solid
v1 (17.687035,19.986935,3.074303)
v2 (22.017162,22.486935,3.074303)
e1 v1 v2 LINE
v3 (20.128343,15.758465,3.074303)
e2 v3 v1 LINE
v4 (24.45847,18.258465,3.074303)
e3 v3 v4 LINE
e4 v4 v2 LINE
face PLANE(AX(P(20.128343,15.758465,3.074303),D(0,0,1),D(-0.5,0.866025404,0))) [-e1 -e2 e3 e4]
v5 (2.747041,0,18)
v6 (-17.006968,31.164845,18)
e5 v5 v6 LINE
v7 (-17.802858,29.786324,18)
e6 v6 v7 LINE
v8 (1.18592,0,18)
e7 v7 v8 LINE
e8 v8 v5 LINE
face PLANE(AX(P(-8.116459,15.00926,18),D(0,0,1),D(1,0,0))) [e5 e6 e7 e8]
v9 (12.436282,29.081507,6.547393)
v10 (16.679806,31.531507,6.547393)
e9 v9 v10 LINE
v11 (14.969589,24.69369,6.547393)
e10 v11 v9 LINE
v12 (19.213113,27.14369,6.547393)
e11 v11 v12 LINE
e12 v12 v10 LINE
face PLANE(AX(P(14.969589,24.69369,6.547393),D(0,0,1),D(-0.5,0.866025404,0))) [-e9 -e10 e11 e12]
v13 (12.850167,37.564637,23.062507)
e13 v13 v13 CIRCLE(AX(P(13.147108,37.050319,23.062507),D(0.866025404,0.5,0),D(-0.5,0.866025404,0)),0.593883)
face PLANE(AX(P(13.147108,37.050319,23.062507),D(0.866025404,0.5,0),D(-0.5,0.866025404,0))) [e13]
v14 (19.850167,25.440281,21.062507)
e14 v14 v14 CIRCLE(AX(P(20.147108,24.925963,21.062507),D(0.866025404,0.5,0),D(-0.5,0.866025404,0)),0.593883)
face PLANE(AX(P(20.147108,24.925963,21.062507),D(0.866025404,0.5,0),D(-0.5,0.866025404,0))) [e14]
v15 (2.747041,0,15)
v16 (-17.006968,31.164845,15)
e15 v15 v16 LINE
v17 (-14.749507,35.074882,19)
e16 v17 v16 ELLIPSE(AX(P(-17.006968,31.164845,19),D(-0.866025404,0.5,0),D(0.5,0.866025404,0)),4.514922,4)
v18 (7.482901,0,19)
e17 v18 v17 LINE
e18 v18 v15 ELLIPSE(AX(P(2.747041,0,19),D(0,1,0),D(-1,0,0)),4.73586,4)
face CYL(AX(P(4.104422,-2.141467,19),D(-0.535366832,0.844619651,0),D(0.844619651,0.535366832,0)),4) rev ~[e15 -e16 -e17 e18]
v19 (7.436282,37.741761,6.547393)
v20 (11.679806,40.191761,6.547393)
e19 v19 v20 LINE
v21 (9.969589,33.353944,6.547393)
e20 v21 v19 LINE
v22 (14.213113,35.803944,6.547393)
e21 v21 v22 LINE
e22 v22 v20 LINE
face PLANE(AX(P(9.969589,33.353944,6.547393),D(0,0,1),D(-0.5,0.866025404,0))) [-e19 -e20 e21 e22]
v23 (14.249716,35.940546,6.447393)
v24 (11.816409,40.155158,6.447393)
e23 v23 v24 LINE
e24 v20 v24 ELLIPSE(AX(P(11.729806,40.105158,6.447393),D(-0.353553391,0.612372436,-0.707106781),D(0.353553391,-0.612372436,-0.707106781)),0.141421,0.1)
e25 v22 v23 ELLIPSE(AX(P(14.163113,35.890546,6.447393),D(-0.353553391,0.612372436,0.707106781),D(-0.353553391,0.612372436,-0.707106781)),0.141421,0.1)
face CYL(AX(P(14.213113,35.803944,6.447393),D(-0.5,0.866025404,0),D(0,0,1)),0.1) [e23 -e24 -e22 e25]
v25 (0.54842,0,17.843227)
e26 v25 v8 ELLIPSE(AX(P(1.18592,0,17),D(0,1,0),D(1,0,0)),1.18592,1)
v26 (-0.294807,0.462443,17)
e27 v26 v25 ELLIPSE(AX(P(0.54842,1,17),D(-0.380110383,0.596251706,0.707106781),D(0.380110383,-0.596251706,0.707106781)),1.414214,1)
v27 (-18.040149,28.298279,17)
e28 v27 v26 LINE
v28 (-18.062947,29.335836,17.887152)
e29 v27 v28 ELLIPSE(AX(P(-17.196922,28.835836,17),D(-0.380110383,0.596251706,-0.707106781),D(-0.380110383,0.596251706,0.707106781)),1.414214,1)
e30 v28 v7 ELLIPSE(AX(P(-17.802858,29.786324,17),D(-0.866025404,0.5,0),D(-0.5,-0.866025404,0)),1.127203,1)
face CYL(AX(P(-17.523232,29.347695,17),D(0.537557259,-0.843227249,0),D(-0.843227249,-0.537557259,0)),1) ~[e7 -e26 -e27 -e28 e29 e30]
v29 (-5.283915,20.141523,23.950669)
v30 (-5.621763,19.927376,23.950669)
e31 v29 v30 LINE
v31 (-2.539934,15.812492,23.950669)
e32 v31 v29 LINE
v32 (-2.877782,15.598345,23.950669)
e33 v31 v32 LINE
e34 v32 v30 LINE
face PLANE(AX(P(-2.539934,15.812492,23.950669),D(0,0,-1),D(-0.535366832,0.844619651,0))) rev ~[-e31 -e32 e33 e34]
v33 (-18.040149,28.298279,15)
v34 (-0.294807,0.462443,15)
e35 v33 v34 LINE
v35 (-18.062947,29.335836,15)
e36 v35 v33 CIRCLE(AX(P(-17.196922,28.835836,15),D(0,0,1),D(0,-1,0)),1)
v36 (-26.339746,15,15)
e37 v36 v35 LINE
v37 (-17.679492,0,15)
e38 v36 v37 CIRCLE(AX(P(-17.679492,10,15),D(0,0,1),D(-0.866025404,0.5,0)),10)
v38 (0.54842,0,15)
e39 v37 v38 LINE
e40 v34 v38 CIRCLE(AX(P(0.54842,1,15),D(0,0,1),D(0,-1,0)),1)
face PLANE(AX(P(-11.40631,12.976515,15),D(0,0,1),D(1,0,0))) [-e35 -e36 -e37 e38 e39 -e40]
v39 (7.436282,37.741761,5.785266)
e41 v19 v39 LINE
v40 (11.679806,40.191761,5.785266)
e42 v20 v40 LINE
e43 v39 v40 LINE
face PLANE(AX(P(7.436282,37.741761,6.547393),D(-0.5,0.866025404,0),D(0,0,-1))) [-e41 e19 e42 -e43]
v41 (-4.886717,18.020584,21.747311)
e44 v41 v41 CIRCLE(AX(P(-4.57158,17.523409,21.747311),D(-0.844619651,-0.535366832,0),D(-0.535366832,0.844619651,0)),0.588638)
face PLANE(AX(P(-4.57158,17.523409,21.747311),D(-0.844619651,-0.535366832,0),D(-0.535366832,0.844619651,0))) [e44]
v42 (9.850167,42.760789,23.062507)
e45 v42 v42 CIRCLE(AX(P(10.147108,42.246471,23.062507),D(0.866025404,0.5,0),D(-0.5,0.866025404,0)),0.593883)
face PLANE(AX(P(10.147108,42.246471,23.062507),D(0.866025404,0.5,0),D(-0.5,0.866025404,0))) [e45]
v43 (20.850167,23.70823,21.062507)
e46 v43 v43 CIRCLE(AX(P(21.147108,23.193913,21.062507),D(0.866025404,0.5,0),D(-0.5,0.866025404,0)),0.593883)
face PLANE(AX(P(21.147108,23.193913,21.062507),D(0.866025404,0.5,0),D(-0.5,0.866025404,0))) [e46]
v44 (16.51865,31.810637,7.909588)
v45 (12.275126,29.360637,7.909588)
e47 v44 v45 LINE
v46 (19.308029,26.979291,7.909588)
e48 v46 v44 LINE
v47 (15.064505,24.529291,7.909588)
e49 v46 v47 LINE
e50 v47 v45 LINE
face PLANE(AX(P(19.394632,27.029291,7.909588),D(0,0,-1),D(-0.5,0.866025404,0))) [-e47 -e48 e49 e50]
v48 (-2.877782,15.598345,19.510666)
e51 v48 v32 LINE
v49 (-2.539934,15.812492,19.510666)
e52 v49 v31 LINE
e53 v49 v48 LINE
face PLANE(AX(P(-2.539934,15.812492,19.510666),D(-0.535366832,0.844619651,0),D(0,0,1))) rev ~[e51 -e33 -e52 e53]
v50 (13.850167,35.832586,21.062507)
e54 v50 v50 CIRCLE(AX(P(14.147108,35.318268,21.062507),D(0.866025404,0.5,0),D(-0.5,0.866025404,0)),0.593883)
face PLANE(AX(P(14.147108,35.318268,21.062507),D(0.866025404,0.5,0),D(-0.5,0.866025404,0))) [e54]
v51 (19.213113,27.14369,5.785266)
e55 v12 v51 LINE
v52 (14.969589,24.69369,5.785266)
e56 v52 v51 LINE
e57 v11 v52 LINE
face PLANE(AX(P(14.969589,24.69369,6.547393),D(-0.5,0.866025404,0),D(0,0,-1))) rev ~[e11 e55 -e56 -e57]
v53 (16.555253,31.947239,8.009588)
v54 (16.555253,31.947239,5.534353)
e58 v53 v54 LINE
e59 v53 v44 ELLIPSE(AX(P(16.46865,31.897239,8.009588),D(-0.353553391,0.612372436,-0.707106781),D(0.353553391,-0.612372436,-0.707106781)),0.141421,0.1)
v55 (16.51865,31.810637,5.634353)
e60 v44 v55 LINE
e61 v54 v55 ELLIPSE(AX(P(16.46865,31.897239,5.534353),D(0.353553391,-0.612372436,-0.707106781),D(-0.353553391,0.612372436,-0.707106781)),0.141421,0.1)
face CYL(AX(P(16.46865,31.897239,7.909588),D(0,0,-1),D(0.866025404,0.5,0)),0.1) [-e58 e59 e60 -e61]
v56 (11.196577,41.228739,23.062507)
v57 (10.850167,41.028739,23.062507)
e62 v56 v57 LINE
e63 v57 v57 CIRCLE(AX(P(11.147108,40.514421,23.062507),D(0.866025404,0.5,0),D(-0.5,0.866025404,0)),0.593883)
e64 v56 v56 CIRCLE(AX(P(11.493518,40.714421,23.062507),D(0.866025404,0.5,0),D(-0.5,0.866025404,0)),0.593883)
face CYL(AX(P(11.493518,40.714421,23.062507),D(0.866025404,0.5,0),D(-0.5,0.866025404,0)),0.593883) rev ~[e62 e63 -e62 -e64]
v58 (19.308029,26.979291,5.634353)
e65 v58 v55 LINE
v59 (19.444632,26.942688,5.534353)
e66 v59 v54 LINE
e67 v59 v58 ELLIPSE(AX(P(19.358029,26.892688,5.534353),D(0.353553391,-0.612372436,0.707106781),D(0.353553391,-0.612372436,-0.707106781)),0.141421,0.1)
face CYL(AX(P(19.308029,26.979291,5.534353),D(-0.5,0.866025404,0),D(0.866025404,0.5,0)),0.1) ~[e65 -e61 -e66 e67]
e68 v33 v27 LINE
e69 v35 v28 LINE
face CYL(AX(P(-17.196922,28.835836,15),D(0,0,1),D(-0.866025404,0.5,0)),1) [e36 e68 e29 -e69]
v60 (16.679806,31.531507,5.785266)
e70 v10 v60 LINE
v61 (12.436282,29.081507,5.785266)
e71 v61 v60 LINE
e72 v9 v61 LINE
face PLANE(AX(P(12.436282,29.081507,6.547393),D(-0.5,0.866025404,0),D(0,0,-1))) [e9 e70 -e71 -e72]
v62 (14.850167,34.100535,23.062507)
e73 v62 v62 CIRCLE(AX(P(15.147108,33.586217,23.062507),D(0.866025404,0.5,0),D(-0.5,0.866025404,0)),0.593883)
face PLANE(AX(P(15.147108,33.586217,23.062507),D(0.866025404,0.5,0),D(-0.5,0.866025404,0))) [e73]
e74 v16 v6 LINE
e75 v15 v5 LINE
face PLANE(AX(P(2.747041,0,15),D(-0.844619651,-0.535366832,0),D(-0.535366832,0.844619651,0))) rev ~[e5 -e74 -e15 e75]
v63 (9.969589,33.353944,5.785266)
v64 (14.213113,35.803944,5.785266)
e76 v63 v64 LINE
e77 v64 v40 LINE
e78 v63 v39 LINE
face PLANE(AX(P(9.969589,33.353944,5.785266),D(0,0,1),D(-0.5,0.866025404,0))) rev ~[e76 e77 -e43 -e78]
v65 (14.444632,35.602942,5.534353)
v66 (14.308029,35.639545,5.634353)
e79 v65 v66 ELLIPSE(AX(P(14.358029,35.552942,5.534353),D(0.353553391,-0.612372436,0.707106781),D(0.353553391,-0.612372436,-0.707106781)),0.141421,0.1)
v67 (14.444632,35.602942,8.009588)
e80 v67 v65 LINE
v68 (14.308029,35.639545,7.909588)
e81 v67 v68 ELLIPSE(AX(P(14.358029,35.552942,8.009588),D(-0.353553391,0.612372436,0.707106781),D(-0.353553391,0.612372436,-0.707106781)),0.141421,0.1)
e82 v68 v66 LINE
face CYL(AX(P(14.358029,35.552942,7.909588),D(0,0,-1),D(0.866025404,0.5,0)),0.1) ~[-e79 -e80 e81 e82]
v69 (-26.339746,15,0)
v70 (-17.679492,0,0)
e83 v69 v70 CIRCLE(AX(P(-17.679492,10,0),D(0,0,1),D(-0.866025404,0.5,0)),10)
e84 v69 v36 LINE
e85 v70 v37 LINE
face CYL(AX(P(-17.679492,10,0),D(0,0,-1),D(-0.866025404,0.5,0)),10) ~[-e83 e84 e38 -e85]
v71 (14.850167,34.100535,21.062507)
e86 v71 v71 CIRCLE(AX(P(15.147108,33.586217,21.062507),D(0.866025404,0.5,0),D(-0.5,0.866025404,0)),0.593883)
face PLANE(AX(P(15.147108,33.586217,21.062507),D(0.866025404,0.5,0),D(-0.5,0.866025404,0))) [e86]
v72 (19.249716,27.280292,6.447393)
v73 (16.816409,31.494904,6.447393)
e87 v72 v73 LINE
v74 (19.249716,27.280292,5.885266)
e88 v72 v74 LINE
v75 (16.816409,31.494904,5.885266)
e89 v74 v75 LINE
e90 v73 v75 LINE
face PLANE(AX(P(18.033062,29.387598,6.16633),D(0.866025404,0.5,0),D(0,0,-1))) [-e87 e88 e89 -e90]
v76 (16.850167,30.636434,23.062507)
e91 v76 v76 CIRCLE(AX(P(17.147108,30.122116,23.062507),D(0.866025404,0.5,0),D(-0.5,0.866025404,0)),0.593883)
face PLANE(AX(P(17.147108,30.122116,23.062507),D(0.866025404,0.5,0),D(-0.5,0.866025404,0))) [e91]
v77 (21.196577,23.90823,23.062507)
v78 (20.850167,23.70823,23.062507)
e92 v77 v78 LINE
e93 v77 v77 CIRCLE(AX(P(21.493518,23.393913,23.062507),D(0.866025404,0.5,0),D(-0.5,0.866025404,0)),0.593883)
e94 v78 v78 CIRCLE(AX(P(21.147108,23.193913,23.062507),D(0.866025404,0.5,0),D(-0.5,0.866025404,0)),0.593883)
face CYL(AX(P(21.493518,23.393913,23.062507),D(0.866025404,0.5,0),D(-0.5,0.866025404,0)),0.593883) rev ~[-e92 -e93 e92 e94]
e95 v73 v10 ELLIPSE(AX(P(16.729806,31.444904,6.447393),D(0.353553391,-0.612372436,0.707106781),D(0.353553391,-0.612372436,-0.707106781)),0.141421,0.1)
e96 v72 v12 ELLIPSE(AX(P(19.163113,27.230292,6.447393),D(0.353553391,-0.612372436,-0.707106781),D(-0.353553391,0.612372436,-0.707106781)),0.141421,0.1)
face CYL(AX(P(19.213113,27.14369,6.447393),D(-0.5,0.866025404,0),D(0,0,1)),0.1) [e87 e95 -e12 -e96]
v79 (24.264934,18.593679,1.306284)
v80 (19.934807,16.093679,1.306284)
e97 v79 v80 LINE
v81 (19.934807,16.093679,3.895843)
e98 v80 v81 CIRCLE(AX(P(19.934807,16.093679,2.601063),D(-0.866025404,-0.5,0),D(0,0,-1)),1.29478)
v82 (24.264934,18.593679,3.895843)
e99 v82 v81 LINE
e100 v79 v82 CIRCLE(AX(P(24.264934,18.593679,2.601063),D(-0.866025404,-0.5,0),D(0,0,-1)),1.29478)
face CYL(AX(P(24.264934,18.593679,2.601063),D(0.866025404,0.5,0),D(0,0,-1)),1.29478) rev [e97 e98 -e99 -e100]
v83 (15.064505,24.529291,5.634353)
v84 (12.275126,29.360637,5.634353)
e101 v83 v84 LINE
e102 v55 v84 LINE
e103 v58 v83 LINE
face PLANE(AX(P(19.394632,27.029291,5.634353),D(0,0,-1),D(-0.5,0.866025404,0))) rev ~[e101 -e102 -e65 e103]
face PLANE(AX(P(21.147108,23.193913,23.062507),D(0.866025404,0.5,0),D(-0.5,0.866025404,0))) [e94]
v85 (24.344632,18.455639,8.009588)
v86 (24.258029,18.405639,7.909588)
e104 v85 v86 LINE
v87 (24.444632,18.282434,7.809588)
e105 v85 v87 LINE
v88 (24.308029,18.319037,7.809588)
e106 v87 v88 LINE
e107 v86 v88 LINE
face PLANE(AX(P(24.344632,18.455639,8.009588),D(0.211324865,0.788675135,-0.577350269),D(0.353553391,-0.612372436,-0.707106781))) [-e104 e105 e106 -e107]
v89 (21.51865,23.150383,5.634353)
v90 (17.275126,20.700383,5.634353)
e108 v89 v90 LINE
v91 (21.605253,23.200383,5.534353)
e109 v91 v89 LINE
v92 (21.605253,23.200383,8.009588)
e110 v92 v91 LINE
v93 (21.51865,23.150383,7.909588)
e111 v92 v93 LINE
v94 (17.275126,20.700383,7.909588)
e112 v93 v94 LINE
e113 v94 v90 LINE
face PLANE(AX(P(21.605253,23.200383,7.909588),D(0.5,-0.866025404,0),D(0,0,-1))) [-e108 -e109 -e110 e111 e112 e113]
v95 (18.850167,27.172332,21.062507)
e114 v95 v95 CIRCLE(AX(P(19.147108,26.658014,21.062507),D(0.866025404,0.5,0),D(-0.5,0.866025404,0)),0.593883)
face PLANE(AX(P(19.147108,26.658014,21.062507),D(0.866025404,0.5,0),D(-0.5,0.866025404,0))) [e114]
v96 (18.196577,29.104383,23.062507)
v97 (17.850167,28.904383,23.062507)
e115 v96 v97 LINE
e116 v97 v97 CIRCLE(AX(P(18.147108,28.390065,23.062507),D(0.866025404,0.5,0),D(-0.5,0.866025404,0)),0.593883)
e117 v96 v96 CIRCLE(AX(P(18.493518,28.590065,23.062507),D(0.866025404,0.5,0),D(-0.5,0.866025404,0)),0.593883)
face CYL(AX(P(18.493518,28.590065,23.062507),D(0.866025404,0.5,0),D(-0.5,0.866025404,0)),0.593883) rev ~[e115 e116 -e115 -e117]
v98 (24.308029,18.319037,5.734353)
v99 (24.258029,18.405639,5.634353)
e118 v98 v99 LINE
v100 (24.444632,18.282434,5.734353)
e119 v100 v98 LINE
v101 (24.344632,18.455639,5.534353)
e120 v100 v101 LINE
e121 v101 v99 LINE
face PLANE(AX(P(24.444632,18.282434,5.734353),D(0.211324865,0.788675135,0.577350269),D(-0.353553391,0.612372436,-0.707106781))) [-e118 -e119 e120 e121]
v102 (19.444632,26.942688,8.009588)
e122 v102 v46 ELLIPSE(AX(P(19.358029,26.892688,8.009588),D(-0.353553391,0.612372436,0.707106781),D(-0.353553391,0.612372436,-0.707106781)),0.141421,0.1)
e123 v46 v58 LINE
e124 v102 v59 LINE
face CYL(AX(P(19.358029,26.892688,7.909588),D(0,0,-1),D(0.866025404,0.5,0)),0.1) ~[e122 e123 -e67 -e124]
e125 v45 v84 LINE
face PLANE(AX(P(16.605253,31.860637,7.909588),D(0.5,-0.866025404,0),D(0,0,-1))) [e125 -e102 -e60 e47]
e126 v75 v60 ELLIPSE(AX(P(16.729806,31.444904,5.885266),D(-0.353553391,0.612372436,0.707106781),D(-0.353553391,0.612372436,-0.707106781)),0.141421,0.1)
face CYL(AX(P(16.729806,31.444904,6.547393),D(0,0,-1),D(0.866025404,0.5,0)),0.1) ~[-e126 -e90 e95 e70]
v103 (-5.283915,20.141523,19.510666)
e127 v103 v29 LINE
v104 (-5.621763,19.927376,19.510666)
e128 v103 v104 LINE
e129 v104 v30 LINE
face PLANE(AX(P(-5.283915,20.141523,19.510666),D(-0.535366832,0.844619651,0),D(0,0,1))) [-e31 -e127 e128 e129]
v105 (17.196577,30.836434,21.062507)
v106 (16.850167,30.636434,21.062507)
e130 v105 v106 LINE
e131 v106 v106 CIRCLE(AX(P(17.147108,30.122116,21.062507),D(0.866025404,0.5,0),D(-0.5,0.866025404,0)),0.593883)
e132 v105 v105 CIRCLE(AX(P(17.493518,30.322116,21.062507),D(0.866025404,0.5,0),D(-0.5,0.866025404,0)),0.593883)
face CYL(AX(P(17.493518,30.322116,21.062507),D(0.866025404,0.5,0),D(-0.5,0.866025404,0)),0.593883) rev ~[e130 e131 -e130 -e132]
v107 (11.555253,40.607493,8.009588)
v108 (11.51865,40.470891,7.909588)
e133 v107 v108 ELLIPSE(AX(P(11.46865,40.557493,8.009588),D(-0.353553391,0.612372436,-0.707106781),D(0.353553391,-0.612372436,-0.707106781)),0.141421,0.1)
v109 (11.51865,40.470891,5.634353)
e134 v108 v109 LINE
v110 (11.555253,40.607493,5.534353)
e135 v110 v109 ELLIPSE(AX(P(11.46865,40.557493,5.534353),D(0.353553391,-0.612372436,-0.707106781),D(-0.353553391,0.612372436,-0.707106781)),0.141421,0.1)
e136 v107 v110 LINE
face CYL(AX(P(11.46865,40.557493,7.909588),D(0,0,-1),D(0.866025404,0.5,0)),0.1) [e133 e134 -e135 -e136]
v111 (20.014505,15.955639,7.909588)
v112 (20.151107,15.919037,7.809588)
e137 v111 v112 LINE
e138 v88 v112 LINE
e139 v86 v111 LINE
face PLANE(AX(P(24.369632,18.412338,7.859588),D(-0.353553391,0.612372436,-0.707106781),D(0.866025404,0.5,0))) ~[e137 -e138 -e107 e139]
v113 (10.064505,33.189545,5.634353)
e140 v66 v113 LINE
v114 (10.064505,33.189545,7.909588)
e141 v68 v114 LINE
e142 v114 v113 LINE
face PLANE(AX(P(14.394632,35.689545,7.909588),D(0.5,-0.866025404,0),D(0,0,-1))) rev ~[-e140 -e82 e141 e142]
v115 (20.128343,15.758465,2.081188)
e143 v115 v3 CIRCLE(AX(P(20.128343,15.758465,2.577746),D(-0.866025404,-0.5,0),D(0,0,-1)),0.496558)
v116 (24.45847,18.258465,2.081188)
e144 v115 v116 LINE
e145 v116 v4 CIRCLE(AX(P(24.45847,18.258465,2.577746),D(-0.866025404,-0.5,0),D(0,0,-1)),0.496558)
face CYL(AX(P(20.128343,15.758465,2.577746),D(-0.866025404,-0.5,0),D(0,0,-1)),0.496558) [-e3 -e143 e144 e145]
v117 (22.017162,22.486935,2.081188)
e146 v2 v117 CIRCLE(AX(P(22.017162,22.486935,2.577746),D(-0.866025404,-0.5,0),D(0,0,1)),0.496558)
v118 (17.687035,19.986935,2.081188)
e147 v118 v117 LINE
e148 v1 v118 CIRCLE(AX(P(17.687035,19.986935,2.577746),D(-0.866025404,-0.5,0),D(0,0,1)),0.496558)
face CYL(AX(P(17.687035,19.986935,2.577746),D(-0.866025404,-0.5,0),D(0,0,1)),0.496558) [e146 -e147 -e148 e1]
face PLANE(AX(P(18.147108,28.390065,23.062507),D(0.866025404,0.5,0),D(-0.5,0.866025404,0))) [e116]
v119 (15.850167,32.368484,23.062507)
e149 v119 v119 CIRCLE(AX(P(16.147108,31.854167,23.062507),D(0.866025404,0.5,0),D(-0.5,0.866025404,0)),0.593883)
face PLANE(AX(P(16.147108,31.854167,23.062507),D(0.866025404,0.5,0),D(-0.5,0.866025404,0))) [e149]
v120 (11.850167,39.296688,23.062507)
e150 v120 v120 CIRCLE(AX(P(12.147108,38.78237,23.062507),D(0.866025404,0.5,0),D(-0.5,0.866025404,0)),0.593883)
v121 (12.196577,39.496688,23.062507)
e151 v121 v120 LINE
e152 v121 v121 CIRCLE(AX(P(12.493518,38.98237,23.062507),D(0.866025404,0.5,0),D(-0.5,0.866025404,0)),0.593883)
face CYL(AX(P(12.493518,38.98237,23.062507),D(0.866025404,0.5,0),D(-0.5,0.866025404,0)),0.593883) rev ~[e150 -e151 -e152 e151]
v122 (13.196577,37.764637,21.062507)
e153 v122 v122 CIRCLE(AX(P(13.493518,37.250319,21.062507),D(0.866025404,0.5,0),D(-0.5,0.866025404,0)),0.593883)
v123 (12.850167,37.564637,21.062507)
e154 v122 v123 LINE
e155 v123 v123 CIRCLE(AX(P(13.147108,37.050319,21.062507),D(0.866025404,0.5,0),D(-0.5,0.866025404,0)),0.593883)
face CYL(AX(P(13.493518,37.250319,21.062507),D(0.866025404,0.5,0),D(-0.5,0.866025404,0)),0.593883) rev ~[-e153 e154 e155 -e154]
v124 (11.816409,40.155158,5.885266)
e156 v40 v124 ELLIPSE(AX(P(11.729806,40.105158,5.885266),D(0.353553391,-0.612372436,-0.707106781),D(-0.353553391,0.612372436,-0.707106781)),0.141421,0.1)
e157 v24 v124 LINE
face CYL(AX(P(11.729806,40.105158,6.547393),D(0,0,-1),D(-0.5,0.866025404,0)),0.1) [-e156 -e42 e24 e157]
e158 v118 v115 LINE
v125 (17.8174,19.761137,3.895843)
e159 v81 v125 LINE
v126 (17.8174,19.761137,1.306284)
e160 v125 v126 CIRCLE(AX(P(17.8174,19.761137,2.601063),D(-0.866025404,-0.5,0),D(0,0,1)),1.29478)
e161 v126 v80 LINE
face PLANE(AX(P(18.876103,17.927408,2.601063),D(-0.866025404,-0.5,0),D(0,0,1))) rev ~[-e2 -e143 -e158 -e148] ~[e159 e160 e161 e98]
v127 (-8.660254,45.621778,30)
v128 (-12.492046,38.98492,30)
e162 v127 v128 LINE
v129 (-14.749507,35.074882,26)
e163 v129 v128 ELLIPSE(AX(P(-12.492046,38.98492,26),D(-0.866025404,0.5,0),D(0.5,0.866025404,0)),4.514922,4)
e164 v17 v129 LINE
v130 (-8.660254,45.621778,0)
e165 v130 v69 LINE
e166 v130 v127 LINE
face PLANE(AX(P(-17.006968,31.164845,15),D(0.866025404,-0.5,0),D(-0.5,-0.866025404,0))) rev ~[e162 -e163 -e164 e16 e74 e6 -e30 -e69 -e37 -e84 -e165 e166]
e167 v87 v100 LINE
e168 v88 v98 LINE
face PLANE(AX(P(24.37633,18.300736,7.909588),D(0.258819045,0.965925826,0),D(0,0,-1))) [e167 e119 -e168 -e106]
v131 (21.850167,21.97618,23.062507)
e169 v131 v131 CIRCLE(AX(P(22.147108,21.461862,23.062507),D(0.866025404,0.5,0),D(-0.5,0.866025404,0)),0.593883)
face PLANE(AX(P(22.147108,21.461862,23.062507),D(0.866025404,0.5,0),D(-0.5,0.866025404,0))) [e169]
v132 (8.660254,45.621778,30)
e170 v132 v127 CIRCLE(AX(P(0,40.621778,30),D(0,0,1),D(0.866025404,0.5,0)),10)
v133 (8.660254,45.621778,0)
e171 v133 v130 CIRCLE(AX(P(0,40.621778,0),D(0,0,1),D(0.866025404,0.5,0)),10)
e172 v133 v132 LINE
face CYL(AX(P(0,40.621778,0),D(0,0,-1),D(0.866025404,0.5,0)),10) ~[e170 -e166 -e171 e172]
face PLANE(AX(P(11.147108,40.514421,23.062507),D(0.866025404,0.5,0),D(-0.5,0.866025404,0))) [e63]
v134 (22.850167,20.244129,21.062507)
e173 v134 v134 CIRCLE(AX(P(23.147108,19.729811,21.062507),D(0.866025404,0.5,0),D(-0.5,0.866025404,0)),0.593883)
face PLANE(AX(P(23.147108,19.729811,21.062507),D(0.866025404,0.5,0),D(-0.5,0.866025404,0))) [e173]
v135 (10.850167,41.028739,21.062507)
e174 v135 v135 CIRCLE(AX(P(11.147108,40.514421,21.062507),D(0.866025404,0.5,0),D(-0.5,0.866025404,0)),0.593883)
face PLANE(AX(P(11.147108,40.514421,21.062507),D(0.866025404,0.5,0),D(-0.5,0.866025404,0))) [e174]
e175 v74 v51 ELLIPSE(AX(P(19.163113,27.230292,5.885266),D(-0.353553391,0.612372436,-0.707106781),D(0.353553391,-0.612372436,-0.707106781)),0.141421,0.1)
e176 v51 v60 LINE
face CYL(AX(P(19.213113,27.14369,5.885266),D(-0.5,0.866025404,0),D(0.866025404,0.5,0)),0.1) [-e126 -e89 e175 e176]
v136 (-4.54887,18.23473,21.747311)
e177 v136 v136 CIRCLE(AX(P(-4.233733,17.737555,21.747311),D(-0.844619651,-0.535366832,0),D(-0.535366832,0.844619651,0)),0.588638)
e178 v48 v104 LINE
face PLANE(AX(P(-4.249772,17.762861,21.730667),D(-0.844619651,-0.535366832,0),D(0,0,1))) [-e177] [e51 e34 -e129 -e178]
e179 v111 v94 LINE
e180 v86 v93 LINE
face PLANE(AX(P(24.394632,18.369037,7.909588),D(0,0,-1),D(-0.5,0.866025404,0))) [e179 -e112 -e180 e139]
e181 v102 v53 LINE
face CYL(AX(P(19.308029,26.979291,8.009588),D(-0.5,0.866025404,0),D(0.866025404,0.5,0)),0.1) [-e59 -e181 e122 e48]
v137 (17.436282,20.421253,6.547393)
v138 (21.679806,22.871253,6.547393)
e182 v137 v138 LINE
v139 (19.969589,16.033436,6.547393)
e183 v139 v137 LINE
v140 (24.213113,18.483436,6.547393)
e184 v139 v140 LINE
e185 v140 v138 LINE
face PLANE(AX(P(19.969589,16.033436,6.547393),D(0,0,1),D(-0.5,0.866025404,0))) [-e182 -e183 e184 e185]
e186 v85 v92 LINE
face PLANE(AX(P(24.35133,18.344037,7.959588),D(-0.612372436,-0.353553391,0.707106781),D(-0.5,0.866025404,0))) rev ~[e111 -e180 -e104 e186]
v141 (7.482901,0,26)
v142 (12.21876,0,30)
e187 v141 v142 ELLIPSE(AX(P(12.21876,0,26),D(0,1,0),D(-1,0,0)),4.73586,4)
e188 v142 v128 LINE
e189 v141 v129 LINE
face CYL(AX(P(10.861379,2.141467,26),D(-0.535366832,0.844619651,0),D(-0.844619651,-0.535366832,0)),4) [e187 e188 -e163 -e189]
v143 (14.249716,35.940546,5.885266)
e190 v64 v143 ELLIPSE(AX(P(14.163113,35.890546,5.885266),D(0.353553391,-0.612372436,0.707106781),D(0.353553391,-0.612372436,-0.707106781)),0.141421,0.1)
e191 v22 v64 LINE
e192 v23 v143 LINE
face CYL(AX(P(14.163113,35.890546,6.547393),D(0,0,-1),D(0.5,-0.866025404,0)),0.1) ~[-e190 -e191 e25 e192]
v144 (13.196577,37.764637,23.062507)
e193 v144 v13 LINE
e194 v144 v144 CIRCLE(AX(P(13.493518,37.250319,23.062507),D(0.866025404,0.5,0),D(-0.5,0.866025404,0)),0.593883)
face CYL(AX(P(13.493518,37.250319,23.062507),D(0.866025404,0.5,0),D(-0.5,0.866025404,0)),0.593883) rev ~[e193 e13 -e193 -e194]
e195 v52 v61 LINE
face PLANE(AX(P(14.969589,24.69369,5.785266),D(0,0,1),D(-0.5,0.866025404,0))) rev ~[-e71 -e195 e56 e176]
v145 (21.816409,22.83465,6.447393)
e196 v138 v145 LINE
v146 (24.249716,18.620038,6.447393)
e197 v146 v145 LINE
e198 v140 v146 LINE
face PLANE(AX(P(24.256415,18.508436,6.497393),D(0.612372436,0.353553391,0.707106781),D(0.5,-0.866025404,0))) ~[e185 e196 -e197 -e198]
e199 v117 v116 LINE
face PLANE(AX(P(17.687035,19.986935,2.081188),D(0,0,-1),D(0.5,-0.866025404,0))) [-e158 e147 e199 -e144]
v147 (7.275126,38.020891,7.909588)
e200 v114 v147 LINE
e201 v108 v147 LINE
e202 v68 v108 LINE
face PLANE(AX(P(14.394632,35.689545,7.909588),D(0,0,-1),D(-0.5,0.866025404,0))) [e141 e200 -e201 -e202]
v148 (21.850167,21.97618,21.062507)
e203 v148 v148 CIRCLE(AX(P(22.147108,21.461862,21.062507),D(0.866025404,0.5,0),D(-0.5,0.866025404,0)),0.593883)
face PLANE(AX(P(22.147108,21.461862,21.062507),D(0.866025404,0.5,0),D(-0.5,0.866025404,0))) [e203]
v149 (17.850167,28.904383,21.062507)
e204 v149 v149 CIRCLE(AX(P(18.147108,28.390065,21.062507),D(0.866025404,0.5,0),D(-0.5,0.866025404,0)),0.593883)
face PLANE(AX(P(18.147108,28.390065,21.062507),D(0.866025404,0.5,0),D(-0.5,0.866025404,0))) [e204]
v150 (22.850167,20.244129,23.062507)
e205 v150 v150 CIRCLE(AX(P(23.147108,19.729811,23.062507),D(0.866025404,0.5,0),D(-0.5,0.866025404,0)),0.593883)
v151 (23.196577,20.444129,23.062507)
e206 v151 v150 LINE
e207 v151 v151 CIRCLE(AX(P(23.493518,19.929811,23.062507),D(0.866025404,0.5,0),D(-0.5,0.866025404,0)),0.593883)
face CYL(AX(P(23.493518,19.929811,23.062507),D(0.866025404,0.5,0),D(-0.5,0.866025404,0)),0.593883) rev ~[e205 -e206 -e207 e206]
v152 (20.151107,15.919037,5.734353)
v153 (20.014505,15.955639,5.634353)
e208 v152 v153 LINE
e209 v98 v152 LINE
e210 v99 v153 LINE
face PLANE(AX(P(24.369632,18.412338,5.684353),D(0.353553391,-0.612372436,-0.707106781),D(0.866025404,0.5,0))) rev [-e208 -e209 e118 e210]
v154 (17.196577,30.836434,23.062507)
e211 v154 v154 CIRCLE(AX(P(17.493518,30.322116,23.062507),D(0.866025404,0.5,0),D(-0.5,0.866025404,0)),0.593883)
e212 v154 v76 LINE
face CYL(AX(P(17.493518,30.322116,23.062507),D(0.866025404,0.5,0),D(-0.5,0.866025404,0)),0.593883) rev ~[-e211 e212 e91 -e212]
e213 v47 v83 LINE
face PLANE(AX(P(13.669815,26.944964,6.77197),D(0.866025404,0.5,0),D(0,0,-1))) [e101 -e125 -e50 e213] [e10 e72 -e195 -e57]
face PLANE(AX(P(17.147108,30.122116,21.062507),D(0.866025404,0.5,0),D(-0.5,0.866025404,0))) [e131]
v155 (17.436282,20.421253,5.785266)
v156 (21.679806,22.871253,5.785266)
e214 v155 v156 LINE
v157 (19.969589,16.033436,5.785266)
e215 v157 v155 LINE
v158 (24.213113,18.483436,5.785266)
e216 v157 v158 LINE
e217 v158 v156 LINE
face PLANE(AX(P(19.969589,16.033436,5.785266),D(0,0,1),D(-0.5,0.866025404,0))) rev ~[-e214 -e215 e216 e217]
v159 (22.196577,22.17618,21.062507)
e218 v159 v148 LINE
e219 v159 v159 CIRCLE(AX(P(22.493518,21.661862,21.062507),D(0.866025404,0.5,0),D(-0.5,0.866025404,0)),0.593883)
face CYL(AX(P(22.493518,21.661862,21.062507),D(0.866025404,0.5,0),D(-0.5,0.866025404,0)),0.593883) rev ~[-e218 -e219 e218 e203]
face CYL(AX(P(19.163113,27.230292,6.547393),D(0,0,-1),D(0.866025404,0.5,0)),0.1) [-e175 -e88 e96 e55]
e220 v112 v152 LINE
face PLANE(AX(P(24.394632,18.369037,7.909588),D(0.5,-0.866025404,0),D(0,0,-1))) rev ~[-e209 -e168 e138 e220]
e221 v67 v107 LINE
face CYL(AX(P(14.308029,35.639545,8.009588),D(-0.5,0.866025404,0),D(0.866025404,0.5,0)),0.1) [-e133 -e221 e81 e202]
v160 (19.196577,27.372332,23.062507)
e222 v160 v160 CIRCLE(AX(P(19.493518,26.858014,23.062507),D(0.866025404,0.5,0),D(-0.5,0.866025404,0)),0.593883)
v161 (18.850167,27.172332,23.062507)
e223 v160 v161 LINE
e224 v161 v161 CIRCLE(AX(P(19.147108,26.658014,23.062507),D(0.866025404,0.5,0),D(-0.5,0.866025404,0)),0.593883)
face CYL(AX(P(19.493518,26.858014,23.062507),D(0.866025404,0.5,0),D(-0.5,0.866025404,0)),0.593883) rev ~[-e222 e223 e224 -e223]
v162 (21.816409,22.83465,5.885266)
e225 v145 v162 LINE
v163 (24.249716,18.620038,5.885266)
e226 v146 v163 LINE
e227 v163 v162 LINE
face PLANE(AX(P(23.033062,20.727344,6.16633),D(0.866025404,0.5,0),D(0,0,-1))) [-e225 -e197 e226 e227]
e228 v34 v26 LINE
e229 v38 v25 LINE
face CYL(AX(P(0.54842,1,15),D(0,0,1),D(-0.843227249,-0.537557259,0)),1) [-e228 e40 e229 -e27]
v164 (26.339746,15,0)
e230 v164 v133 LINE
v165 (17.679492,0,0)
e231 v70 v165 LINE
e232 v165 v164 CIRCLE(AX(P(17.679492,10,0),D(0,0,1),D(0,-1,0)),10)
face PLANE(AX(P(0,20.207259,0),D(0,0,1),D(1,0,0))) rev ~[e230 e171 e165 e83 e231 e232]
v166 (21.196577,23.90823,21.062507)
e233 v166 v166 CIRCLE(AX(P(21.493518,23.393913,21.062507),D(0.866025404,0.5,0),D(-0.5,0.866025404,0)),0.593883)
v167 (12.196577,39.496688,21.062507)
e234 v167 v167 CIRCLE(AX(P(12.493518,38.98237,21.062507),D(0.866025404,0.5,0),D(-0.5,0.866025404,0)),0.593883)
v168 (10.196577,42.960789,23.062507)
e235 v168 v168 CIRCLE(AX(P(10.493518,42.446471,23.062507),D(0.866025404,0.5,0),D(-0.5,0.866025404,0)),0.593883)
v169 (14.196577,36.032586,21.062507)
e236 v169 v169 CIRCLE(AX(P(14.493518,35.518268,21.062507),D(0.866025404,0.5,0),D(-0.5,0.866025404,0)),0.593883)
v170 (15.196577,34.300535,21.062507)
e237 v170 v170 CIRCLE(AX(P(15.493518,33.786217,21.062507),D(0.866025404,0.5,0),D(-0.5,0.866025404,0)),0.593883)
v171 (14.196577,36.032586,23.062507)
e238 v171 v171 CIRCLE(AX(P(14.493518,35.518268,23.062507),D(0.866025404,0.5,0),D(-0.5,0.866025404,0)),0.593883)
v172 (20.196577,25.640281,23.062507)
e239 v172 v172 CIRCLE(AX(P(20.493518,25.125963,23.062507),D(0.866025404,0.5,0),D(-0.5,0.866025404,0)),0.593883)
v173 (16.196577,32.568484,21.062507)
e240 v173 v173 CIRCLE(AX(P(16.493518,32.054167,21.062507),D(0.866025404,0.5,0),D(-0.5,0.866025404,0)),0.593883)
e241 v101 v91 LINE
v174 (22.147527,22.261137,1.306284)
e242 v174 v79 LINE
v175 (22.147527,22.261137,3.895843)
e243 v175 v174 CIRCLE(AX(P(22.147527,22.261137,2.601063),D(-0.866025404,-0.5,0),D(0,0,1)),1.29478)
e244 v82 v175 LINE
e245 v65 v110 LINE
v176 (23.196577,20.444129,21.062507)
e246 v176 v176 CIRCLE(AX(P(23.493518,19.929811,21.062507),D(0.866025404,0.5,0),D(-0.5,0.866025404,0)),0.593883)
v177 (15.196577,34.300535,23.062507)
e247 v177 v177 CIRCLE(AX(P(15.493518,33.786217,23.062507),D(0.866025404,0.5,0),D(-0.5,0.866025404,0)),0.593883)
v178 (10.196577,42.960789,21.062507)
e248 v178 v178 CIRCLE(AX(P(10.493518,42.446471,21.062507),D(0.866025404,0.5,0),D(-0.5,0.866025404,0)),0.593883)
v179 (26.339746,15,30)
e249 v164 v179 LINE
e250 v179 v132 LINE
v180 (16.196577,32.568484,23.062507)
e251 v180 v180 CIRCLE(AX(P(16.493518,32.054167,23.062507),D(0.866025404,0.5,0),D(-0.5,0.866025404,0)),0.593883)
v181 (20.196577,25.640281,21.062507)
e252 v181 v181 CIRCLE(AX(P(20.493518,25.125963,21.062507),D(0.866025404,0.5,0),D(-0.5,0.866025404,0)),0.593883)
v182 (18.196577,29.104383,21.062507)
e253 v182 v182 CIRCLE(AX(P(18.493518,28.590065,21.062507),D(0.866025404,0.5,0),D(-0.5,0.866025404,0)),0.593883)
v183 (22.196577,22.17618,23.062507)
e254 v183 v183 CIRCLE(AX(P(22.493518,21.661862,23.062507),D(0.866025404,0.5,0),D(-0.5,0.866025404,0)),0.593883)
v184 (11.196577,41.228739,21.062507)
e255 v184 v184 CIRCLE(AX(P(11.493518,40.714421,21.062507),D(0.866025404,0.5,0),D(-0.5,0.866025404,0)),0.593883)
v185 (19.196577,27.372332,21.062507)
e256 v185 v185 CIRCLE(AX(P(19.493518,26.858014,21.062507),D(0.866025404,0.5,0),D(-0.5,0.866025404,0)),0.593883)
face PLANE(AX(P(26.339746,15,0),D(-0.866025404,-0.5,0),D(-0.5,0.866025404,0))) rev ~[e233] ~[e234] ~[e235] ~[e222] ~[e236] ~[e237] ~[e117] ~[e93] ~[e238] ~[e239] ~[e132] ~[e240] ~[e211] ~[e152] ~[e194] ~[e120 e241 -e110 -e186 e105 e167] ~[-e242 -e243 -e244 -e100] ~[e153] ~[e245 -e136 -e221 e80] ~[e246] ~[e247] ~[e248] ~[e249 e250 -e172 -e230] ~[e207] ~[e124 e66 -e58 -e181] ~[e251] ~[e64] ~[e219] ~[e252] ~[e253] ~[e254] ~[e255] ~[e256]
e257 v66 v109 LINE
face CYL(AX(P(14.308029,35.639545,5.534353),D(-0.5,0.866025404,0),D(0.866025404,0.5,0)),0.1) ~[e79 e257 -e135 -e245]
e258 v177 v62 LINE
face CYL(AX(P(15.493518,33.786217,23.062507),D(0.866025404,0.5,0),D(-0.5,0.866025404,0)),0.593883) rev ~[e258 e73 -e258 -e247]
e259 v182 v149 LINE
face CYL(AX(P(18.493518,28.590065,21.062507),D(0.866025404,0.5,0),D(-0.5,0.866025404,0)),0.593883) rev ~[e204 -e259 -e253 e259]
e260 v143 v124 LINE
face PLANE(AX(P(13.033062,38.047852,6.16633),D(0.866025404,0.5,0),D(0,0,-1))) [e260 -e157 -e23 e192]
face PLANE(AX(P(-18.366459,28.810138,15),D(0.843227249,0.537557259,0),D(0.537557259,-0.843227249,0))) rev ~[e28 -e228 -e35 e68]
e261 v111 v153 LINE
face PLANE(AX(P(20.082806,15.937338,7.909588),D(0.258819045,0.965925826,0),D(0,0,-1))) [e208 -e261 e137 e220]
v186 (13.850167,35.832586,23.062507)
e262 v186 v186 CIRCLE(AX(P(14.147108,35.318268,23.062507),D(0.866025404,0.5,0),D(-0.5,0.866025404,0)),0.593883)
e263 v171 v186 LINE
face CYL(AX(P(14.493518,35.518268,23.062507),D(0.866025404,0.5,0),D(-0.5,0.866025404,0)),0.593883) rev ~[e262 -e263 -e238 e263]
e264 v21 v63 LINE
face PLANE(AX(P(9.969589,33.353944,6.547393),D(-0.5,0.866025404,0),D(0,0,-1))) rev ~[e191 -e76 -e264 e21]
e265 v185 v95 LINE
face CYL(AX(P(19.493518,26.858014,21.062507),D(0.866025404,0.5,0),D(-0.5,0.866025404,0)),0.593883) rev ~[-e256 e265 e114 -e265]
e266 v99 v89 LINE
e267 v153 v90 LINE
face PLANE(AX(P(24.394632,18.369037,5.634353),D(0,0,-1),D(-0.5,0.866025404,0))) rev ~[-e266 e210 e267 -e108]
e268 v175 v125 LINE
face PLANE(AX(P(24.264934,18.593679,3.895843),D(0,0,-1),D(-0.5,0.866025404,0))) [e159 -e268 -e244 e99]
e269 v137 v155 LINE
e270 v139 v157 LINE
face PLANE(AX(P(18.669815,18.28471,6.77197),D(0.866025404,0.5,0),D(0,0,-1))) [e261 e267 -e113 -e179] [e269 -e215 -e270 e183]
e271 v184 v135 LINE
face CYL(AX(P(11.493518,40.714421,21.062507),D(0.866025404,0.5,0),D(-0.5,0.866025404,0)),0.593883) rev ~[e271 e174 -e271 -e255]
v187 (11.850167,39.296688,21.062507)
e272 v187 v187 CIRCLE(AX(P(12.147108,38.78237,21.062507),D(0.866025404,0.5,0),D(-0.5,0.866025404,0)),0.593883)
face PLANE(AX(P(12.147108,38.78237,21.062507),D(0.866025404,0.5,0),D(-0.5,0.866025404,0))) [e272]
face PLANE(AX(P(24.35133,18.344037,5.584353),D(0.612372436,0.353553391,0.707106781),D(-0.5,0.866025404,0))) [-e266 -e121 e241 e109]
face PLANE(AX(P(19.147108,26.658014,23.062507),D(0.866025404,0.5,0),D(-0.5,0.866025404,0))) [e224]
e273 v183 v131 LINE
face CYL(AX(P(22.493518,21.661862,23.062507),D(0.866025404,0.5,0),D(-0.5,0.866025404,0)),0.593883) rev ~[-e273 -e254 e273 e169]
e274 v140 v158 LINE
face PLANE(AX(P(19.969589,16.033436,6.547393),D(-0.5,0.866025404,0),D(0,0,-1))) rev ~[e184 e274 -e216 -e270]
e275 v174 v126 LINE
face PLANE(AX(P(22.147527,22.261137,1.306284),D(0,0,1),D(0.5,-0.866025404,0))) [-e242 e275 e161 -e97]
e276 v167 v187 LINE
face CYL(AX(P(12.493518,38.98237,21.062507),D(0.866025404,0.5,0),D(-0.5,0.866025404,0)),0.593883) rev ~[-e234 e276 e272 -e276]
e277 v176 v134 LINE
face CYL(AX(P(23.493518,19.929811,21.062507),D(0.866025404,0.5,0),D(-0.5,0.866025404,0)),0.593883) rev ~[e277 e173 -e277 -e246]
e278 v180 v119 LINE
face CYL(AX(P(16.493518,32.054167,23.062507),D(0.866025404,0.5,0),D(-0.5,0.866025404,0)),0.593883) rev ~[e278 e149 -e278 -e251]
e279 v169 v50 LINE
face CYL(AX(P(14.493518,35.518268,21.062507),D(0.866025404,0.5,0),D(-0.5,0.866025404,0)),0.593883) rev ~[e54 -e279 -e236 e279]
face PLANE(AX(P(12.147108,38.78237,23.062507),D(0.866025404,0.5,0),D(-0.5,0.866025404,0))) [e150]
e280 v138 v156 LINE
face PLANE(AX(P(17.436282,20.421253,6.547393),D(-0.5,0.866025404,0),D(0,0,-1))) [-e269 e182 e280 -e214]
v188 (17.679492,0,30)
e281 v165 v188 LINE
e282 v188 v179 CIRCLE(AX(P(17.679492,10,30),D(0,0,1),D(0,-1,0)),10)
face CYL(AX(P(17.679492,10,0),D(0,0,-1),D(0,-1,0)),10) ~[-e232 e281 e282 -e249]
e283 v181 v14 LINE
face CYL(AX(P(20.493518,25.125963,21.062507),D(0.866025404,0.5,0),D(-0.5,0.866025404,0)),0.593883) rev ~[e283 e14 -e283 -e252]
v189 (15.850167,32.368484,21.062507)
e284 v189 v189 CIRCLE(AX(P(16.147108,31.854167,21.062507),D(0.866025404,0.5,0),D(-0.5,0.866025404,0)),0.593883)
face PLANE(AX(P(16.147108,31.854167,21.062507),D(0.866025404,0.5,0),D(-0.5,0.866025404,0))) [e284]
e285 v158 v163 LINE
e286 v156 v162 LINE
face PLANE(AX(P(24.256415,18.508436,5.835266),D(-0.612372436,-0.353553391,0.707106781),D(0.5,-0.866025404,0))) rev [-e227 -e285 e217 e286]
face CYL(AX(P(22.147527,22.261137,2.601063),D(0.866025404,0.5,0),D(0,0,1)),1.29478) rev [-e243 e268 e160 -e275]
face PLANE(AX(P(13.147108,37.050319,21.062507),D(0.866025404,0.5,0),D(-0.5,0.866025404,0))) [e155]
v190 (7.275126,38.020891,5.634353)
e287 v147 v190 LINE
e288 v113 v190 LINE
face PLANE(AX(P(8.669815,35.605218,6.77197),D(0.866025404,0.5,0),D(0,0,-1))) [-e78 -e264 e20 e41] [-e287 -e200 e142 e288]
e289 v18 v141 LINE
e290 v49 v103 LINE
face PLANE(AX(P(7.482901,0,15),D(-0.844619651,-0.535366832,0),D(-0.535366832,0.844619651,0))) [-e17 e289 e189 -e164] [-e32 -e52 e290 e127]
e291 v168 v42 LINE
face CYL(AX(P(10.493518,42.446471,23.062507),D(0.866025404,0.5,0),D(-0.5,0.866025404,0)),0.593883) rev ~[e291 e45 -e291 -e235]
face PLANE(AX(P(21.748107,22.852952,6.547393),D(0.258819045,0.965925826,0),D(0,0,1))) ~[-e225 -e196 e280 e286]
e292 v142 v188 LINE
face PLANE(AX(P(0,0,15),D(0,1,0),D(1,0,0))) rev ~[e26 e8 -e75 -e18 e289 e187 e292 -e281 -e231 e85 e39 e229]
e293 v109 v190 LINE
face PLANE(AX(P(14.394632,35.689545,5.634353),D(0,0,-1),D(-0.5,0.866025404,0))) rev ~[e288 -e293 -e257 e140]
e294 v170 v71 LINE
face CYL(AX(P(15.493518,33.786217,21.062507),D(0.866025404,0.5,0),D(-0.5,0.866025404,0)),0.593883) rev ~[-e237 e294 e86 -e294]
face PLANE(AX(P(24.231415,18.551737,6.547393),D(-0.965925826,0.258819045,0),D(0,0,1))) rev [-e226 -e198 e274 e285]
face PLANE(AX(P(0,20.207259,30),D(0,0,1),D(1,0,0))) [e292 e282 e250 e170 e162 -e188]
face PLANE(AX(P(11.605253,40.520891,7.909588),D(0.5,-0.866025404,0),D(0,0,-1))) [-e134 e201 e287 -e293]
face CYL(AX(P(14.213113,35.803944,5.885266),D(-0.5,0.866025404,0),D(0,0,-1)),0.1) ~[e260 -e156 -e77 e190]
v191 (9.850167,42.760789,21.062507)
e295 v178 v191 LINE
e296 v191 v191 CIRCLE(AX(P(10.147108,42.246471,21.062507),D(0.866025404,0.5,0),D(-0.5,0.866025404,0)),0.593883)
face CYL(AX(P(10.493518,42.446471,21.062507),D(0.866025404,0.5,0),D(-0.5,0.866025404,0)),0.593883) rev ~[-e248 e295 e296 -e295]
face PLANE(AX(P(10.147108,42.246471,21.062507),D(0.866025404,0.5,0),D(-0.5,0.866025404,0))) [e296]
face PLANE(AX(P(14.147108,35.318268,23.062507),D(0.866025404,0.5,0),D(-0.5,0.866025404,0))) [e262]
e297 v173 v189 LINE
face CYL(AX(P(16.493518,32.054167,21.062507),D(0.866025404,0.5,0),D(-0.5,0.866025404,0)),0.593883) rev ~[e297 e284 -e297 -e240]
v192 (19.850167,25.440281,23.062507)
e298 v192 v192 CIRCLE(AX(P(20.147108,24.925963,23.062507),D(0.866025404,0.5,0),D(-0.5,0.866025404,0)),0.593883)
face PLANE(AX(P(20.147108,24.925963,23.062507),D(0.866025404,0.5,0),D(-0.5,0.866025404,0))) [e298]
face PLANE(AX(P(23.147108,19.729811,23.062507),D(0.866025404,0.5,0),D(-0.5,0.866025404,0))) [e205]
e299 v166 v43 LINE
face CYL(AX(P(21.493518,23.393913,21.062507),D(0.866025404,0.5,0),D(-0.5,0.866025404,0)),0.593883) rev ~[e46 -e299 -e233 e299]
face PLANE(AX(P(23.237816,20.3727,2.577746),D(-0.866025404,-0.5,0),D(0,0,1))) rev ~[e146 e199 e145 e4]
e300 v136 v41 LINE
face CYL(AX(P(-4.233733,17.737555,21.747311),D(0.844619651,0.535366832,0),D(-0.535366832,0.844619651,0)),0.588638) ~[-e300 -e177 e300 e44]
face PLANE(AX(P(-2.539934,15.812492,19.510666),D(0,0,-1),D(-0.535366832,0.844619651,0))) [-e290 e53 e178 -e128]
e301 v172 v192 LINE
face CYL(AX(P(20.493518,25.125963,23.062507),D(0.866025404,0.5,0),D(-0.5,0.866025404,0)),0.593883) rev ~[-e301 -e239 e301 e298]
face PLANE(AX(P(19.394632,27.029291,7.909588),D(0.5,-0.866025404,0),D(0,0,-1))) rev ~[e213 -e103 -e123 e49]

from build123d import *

# Parameters (mm, degrees)
BOSS_EXTRUDE1_DEPTH = 30
SKETCH2_W           = 2.275234404095272
SKETCH2_H           = 5.578757672765283
SKETCH2_H_2         = 5.578757672765278
SKETCH2_W_2         = 2.275234404095273
CUT_EXTRUDE1_DEPTH  = 5
SKETCH3_W           = 0.76212713524626
SKETCH3_H           = 5.066614641044968
SKETCH3_W_2         = 0.7621271352462609
SKETCH3_H_2         = 5.066614641044964
BOSS_EXTRUDE3_DEPTH = 5
CHAMFER2_SIZE       = 0.1
FILLET1_R           = 0.1
FILLET2_R           = 0.1
FILLET3_R           = 0.1
FILLET4_R           = 0.1
CUT_EXTRUDE2_DEPTH  = 5
BOSS_EXTRUDE4_DEPTH = 5
CUT_EXTRUDE3_START  = -15.000000000000002
CUT_EXTRUDE3_DEPTH  = 15.000000000000002
SKETCH7_W           = 4.440002623823602
SKETCH7_H           = 5.125420819496185
BOSS_EXTRUDE5_DEPTH = 0.4
SKETCH8_R           = 0.5886376526308733
BOSS_EXTRUDE6_DEPTH = 0.4
FILLET7_R           = 4
SKETCH10_R          = 0.5938831394244329
SKETCH10_R_2        = 0.5938831394244335
SKETCH10_R_3        = 0.5938831394244324
CUT_EXTRUDE4_DEPTH  = 0.4
FILLET8_R           = 4
BOSS_EXTRUDE7_DEPTH = 3
FILLET10_R          = 1


with BuildPart() as part:
    # Sketch1 → Boss-Extrude1 (new body)
    with BuildSketch(Plane.XY):
        with BuildLine():
            Line((-17.679491924311083, 3.18e-15), (17.6794919243111, 9.68e-15))
            ThreePointArc((17.6794919243111, 9.68e-15), (26.339745962155618, 5.000000000000008), (26.339745962155554, 15.000000000000124))
            Line((26.339745962155554, 15.000000000000124), (8.66025403784446, 45.621778264910596))
            ThreePointArc((8.66025403784446, 45.621778264910596), (6.34e-15, 50.621778264910716), (-8.660254037844458, 45.6217782649106))
            Line((-8.660254037844458, 45.6217782649106), (-26.339745962155547, 15.000000000000128))
            ThreePointArc((-26.339745962155547, 15.000000000000128), (-26.33974596215561, 5), (-17.679491924311083, 3.18e-15))
        make_face()
    extrude(amount=BOSS_EXTRUDE1_DEPTH)

    # Sketch2 → Cut-Extrude1 (cut)
    with BuildSketch(Plane(origin=(26.25000000000001, 15.155444566227686, 0), x_dir=(0, 0, -1), z_dir=(0.8660254037844386, 0.5000000000000001, 0))):
        with Locations((-6.771970321494826, 16.50011569419462)):
            Rectangle(SKETCH2_W, SKETCH2_H)
        with Locations((-6.771970321494791, 6.500115694194619)):
            Rectangle(SKETCH2_W, SKETCH2_H_2)
        with Locations((-6.771970321494861, 26.50011569419462)):
            Rectangle(SKETCH2_W_2, SKETCH2_H_2)
    extrude(amount=-CUT_EXTRUDE1_DEPTH, mode=Mode.SUBTRACT)

    # Sketch3 → Boss-Extrude3 (add)
    with BuildSketch(Plane(origin=(21.919872981077837, 12.655444566227697, 0), x_dir=(0, 0, -1), z_dir=(0.8660254037844385, 0.5000000000000003, 0))):
        with Locations((-6.16632950078614, 16.43387561929032)):
            Rectangle(SKETCH3_W, SKETCH3_H)
        with Locations((-6.166329500786105, 6.433875619290319)):
            Rectangle(SKETCH3_W_2, SKETCH3_H_2)
        with Locations((-6.166329500786173, 26.43387561929032)):
            Rectangle(SKETCH3_W_2, SKETCH3_H_2)
    extrude(amount=BOSS_EXTRUDE3_DEPTH)

    # Chamfer2
    chamfer2_edges = [part.edges().sort_by_distance(p)[0] for p in [
        (22.229568061632925, 17.119036951852106, 7.909587523542427),
        (20.064504552171826, 15.869036951852106, 6.771970321494791),
        (22.229568061632925, 17.119036951852106, 5.634353119447155),
        (22.9999421529027, 20.78470988493815, 7.909587523542427),
        (24.39463157109402, 18.369036951852106, 6.771970321494791),
        (22.9999421529027, 20.78470988493815, 5.634353119447155),
        (23.033062190354865, 20.727344297322453, 6.547393068409235),
        (24.29971585061611, 18.533435802156895, 6.166329500786105),
        (23.033062190354865, 20.727344297322453, 5.785265933162975),
        (21.766408530093624, 22.92125279248801, 6.166329500786105),
    ]]
    chamfer(chamfer2_edges, length=CHAMFER2_SIZE)

    # Fillet1
    fillet1_edges = [part.edges().sort_by_distance(p)[0] for p in [
        (19.299715850616106, 27.19368984000128, 6.16632950078614),
        (18.033062190354862, 29.387598335166835, 5.78526593316301),
        (16.76640853009362, 31.581506830332394, 6.16632950078614),
        (18.033062190354862, 29.387598335166835, 6.54739306840927),
    ]]
    fillet(fillet1_edges, radius=FILLET1_R)

    # Fillet2
    fillet2_edges = [part.edges().sort_by_distance(p)[0] for p in [
        (14.299715850616103, 35.853943877845666, 6.166329500786174),
        (13.03306219035486, 38.047852373011224, 5.785265933163044),
        (11.766408530093619, 40.241760868176776, 6.166329500786174),
        (13.03306219035486, 38.047852373011224, 6.547393068409304),
    ]]
    fillet(fillet2_edges, radius=FILLET2_R)

    # Fillet3
    fillet3_edges = [part.edges().sort_by_distance(p)[0] for p in [
        (19.394631571094017, 27.02929098969649, 6.771970321494826),
        (17.999942152902698, 29.444963922782534, 5.63435311944719),
        (16.605252734711378, 31.860636855868577, 6.771970321494826),
        (17.999942152902698, 29.444963922782534, 7.909587523542462),
    ]]
    fillet(fillet3_edges, radius=FILLET3_R)

    # Fillet4
    fillet4_edges = [part.edges().sort_by_distance(p)[0] for p in [
        (14.394631571094019, 35.68954502754087, 6.771970321494861),
        (12.999942152902698, 38.105217960626916, 5.634353119447224),
        (11.605252734711378, 40.52089089371296, 6.771970321494861),
        (12.999942152902698, 38.105217960626916, 7.909587523542497),
    ]]
    fillet(fillet4_edges, radius=FILLET4_R)

    # Sketch4 → Cut-Extrude2 (cut)
    with BuildSketch(Plane(origin=(26.25000000000001, 15.155444566227686, 0), x_dir=(0, 0, -1), z_dir=(0.8660254037844386, 0.5000000000000001, 0))):
        with BuildLine():
            Line((-3.8958432599542903, 3.970131617300865), (-3.8958432599542903, 8.204946525104617))
            ThreePointArc((-3.8958432599542903, 8.204946525104617), (-2.601063388610214, 9.499726396448693), (-1.306283517266138, 8.204946525104617))
            Line((-1.306283517266138, 8.204946525104617), (-1.306283517266138, 3.970131617300865))
            ThreePointArc((-1.306283517266138, 3.970131617300865), (-2.6010633886102146, 2.675351745956789), (-3.8958432599542903, 3.970131617300865))
        make_face()
    extrude(amount=-CUT_EXTRUDE2_DEPTH, mode=Mode.SUBTRACT)

    # Sketch5 → Boss-Extrude4 (add)
    with BuildSketch(Plane(origin=(21.919872981077813, 12.655444566227686, 0), x_dir=(0, 0, -1), z_dir=(0.8660254037844386, 0.5000000000000001, 0))):
        with BuildLine():
            Line((-3.0743032660907055, 3.583059523641907), (-3.0743032660907055, 8.465676524321175))
            ThreePointArc((-3.0743032660907055, 8.465676524321175), (-2.5777456783409036, 8.962234112070977), (-2.0811880905911018, 8.465676524321175))
            Line((-2.0811880905911018, 8.465676524321175), (-2.0811880905911018, 3.583059523641907))
            ThreePointArc((-2.0811880905911018, 3.583059523641907), (-2.5777456783409036, 3.0865019358921053), (-3.0743032660907055, 3.583059523641907))
        make_face()
    extrude(amount=BOSS_EXTRUDE4_DEPTH)

    # Sketch6 → Cut-Extrude3 (cut)
    with BuildSketch(Plane.XY.offset(30).offset(CUT_EXTRUDE3_START)):
        with BuildLine():
            Line((7.482900883826271, 7.11e-15), (-14.749507157804135, 35.07488248099315))
            Line((-14.749507157804127, 35.074882480993146), (-26.339745962155547, 15.000000000000131))
            ThreePointArc((-26.339745962155547, 15.000000000000128), (-26.339745962155618, 5.000000000000002), (-17.679491924311083, 1.78e-15))
            Line((-17.679491924311083, 3.18e-15), (7.482900883826272, 7.8e-15))
        make_face()
    extrude(amount=CUT_EXTRUDE3_DEPTH, mode=Mode.SUBTRACT)

    # Sketch7 → Boss-Extrude5 (add)
    with BuildSketch(Plane(origin=(5.338169454747117, 3.383628201109945, 0), x_dir=(0, 0, 1), z_dir=(-0.8446196510865366, -0.5353668321800086, 0))):
        with Locations((21.730667204522547, 17.27804822628798)):
            Rectangle(SKETCH7_W, SKETCH7_H)
    extrude(amount=BOSS_EXTRUDE5_DEPTH)

    # Sketch8 → Boss-Extrude6 (add)
    with BuildSketch(Plane(origin=(5.000321594312501, 3.169481468237942, 0), x_dir=(0, 0, 1), z_dir=(-0.8446196510865364, -0.5353668321800086, 0))):
        with Locations(Location((21.747310709322676, 17.2480877915433, 0), (0, 0, 90))):
            Circle(SKETCH8_R)
    extrude(amount=BOSS_EXTRUDE6_DEPTH)

    # Fillet7
    fillet7_edges = [part.edges().sort_by_distance(p)[0] for p in [
        (-3.633303136988933, 17.53744124049658, 14.999999999999998),
    ]]
    fillet(fillet7_edges, radius=FILLET7_R)

    # Sketch10 → Cut-Extrude4 (cut)
    with BuildSketch(Plane(origin=(26.25000000000001, 15.155444566227686, 0), x_dir=(0, 0, -1), z_dir=(0.8660254037844386, 0.5000000000000001, 0))):
        with Locations(Location((-23.062507434786994, 5.512963426255624, 0), (0, 0, 90))):
            Circle(SKETCH10_R)
        with Locations(Location((-21.062507434786994, 5.512963426255624, 0), (0, 0, 90))):
            Circle(SKETCH10_R)
        with Locations(Location((-21.062507434786998, 7.512963426255624, 0), (0, 0, 90))):
            Circle(SKETCH10_R)
        with Locations(Location((-21.062507434787005, 9.512963426255624, 0), (0, 0, 90))):
            Circle(SKETCH10_R)
        with Locations(Location((-21.062507434787012, 11.512963426255624, 0), (0, 0, 90))):
            Circle(SKETCH10_R)
        with Locations(Location((-21.06250743478702, 13.512963426255624, 0), (0, 0, 90))):
            Circle(SKETCH10_R)
        with Locations(Location((-21.062507434787026, 15.512963426255624, 0), (0, 0, 90))):
            Circle(SKETCH10_R)
        with Locations(Location((-21.062507434787033, 17.512963426255624, 0), (0, 0, 90))):
            Circle(SKETCH10_R_2)
        with Locations(Location((-21.06250743478704, 19.512963426255624, 0), (0, 0, 90))):
            Circle(SKETCH10_R_2)
        with Locations(Location((-21.062507434787047, 21.512963426255624, 0), (0, 0, 90))):
            Circle(SKETCH10_R_3)
        with Locations(Location((-21.062507434787054, 23.512963426255627, 0), (0, 0, 90))):
            Circle(SKETCH10_R_3)
        with Locations(Location((-21.06250743478706, 25.512963426255624, 0), (0, 0, 90))):
            Circle(SKETCH10_R_2)
        with Locations(Location((-21.06250743478707, 27.512963426255624, 0), (0, 0, 90))):
            Circle(SKETCH10_R_3)
        with Locations(Location((-21.062507434787076, 29.512963426255624, 0), (0, 0, 90))):
            Circle(SKETCH10_R_3)
        with Locations(Location((-21.062507434787083, 31.512963426255627, 0), (0, 0, 90))):
            Circle(SKETCH10_R_3)
        with Locations(Location((-23.062507434787, 7.512963426255624, 0), (0, 0, 90))):
            Circle(SKETCH10_R)
        with Locations(Location((-23.06250743478701, 9.512963426255624, 0), (0, 0, 90))):
            Circle(SKETCH10_R)
        with Locations(Location((-23.062507434787015, 11.512963426255624, 0), (0, 0, 90))):
            Circle(SKETCH10_R)
        with Locations(Location((-23.062507434787022, 13.512963426255624, 0), (0, 0, 90))):
            Circle(SKETCH10_R)
        with Locations(Location((-23.06250743478703, 15.512963426255624, 0), (0, 0, 90))):
            Circle(SKETCH10_R)
        with Locations(Location((-23.062507434787037, 17.512963426255624, 0), (0, 0, 90))):
            Circle(SKETCH10_R_2)
        with Locations(Location((-23.062507434787044, 19.512963426255624, 0), (0, 0, 90))):
            Circle(SKETCH10_R_2)
        with Locations(Location((-23.06250743478705, 21.512963426255624, 0), (0, 0, 90))):
            Circle(SKETCH10_R_3)
        with Locations(Location((-23.062507434787058, 23.512963426255627, 0), (0, 0, 90))):
            Circle(SKETCH10_R_3)
        with Locations(Location((-23.062507434787065, 25.512963426255624, 0), (0, 0, 90))):
            Circle(SKETCH10_R_2)
        with Locations(Location((-23.06250743478707, 27.512963426255624, 0), (0, 0, 90))):
            Circle(SKETCH10_R_3)
        with Locations(Location((-23.062507434787076, 29.512963426255624, 0), (0, 0, 90))):
            Circle(SKETCH10_R_3)
        with Locations(Location((-23.062507434787083, 31.512963426255627, 0), (0, 0, 90))):
            Circle(SKETCH10_R_3)
    extrude(amount=-CUT_EXTRUDE4_DEPTH, mode=Mode.SUBTRACT)

    # Fillet8
    fillet8_edges = [part.edges().sort_by_distance(p)[0] for p in [
        (-3.633303136988933, 17.53744124049658, 30),
    ]]
    fillet(fillet8_edges, radius=FILLET8_R)

    # Sketch11 → Boss-Extrude7 (add)
    with BuildSketch(Plane.XY.offset(14.999999999999998)):
        Polygon((-17.006968087908213, 31.16484545395118), (-18.366459113620724, 28.81013792498318), (0, 0), (2.747041382032401, 5e-16), align=None)
    extrude(amount=BOSS_EXTRUDE7_DEPTH)

    # Fillet10
    fillet10_edges = [part.edges().sort_by_distance(p)[0] for p in [
        (-18.366459113620724, 28.81013792498318, 16.5),
        (0, 0, 16.5),
        (-9.183229556810362, 14.40506896249159, 18),
    ]]
    fillet(fillet10_edges, radius=FILLET10_R)


solid = part.part
